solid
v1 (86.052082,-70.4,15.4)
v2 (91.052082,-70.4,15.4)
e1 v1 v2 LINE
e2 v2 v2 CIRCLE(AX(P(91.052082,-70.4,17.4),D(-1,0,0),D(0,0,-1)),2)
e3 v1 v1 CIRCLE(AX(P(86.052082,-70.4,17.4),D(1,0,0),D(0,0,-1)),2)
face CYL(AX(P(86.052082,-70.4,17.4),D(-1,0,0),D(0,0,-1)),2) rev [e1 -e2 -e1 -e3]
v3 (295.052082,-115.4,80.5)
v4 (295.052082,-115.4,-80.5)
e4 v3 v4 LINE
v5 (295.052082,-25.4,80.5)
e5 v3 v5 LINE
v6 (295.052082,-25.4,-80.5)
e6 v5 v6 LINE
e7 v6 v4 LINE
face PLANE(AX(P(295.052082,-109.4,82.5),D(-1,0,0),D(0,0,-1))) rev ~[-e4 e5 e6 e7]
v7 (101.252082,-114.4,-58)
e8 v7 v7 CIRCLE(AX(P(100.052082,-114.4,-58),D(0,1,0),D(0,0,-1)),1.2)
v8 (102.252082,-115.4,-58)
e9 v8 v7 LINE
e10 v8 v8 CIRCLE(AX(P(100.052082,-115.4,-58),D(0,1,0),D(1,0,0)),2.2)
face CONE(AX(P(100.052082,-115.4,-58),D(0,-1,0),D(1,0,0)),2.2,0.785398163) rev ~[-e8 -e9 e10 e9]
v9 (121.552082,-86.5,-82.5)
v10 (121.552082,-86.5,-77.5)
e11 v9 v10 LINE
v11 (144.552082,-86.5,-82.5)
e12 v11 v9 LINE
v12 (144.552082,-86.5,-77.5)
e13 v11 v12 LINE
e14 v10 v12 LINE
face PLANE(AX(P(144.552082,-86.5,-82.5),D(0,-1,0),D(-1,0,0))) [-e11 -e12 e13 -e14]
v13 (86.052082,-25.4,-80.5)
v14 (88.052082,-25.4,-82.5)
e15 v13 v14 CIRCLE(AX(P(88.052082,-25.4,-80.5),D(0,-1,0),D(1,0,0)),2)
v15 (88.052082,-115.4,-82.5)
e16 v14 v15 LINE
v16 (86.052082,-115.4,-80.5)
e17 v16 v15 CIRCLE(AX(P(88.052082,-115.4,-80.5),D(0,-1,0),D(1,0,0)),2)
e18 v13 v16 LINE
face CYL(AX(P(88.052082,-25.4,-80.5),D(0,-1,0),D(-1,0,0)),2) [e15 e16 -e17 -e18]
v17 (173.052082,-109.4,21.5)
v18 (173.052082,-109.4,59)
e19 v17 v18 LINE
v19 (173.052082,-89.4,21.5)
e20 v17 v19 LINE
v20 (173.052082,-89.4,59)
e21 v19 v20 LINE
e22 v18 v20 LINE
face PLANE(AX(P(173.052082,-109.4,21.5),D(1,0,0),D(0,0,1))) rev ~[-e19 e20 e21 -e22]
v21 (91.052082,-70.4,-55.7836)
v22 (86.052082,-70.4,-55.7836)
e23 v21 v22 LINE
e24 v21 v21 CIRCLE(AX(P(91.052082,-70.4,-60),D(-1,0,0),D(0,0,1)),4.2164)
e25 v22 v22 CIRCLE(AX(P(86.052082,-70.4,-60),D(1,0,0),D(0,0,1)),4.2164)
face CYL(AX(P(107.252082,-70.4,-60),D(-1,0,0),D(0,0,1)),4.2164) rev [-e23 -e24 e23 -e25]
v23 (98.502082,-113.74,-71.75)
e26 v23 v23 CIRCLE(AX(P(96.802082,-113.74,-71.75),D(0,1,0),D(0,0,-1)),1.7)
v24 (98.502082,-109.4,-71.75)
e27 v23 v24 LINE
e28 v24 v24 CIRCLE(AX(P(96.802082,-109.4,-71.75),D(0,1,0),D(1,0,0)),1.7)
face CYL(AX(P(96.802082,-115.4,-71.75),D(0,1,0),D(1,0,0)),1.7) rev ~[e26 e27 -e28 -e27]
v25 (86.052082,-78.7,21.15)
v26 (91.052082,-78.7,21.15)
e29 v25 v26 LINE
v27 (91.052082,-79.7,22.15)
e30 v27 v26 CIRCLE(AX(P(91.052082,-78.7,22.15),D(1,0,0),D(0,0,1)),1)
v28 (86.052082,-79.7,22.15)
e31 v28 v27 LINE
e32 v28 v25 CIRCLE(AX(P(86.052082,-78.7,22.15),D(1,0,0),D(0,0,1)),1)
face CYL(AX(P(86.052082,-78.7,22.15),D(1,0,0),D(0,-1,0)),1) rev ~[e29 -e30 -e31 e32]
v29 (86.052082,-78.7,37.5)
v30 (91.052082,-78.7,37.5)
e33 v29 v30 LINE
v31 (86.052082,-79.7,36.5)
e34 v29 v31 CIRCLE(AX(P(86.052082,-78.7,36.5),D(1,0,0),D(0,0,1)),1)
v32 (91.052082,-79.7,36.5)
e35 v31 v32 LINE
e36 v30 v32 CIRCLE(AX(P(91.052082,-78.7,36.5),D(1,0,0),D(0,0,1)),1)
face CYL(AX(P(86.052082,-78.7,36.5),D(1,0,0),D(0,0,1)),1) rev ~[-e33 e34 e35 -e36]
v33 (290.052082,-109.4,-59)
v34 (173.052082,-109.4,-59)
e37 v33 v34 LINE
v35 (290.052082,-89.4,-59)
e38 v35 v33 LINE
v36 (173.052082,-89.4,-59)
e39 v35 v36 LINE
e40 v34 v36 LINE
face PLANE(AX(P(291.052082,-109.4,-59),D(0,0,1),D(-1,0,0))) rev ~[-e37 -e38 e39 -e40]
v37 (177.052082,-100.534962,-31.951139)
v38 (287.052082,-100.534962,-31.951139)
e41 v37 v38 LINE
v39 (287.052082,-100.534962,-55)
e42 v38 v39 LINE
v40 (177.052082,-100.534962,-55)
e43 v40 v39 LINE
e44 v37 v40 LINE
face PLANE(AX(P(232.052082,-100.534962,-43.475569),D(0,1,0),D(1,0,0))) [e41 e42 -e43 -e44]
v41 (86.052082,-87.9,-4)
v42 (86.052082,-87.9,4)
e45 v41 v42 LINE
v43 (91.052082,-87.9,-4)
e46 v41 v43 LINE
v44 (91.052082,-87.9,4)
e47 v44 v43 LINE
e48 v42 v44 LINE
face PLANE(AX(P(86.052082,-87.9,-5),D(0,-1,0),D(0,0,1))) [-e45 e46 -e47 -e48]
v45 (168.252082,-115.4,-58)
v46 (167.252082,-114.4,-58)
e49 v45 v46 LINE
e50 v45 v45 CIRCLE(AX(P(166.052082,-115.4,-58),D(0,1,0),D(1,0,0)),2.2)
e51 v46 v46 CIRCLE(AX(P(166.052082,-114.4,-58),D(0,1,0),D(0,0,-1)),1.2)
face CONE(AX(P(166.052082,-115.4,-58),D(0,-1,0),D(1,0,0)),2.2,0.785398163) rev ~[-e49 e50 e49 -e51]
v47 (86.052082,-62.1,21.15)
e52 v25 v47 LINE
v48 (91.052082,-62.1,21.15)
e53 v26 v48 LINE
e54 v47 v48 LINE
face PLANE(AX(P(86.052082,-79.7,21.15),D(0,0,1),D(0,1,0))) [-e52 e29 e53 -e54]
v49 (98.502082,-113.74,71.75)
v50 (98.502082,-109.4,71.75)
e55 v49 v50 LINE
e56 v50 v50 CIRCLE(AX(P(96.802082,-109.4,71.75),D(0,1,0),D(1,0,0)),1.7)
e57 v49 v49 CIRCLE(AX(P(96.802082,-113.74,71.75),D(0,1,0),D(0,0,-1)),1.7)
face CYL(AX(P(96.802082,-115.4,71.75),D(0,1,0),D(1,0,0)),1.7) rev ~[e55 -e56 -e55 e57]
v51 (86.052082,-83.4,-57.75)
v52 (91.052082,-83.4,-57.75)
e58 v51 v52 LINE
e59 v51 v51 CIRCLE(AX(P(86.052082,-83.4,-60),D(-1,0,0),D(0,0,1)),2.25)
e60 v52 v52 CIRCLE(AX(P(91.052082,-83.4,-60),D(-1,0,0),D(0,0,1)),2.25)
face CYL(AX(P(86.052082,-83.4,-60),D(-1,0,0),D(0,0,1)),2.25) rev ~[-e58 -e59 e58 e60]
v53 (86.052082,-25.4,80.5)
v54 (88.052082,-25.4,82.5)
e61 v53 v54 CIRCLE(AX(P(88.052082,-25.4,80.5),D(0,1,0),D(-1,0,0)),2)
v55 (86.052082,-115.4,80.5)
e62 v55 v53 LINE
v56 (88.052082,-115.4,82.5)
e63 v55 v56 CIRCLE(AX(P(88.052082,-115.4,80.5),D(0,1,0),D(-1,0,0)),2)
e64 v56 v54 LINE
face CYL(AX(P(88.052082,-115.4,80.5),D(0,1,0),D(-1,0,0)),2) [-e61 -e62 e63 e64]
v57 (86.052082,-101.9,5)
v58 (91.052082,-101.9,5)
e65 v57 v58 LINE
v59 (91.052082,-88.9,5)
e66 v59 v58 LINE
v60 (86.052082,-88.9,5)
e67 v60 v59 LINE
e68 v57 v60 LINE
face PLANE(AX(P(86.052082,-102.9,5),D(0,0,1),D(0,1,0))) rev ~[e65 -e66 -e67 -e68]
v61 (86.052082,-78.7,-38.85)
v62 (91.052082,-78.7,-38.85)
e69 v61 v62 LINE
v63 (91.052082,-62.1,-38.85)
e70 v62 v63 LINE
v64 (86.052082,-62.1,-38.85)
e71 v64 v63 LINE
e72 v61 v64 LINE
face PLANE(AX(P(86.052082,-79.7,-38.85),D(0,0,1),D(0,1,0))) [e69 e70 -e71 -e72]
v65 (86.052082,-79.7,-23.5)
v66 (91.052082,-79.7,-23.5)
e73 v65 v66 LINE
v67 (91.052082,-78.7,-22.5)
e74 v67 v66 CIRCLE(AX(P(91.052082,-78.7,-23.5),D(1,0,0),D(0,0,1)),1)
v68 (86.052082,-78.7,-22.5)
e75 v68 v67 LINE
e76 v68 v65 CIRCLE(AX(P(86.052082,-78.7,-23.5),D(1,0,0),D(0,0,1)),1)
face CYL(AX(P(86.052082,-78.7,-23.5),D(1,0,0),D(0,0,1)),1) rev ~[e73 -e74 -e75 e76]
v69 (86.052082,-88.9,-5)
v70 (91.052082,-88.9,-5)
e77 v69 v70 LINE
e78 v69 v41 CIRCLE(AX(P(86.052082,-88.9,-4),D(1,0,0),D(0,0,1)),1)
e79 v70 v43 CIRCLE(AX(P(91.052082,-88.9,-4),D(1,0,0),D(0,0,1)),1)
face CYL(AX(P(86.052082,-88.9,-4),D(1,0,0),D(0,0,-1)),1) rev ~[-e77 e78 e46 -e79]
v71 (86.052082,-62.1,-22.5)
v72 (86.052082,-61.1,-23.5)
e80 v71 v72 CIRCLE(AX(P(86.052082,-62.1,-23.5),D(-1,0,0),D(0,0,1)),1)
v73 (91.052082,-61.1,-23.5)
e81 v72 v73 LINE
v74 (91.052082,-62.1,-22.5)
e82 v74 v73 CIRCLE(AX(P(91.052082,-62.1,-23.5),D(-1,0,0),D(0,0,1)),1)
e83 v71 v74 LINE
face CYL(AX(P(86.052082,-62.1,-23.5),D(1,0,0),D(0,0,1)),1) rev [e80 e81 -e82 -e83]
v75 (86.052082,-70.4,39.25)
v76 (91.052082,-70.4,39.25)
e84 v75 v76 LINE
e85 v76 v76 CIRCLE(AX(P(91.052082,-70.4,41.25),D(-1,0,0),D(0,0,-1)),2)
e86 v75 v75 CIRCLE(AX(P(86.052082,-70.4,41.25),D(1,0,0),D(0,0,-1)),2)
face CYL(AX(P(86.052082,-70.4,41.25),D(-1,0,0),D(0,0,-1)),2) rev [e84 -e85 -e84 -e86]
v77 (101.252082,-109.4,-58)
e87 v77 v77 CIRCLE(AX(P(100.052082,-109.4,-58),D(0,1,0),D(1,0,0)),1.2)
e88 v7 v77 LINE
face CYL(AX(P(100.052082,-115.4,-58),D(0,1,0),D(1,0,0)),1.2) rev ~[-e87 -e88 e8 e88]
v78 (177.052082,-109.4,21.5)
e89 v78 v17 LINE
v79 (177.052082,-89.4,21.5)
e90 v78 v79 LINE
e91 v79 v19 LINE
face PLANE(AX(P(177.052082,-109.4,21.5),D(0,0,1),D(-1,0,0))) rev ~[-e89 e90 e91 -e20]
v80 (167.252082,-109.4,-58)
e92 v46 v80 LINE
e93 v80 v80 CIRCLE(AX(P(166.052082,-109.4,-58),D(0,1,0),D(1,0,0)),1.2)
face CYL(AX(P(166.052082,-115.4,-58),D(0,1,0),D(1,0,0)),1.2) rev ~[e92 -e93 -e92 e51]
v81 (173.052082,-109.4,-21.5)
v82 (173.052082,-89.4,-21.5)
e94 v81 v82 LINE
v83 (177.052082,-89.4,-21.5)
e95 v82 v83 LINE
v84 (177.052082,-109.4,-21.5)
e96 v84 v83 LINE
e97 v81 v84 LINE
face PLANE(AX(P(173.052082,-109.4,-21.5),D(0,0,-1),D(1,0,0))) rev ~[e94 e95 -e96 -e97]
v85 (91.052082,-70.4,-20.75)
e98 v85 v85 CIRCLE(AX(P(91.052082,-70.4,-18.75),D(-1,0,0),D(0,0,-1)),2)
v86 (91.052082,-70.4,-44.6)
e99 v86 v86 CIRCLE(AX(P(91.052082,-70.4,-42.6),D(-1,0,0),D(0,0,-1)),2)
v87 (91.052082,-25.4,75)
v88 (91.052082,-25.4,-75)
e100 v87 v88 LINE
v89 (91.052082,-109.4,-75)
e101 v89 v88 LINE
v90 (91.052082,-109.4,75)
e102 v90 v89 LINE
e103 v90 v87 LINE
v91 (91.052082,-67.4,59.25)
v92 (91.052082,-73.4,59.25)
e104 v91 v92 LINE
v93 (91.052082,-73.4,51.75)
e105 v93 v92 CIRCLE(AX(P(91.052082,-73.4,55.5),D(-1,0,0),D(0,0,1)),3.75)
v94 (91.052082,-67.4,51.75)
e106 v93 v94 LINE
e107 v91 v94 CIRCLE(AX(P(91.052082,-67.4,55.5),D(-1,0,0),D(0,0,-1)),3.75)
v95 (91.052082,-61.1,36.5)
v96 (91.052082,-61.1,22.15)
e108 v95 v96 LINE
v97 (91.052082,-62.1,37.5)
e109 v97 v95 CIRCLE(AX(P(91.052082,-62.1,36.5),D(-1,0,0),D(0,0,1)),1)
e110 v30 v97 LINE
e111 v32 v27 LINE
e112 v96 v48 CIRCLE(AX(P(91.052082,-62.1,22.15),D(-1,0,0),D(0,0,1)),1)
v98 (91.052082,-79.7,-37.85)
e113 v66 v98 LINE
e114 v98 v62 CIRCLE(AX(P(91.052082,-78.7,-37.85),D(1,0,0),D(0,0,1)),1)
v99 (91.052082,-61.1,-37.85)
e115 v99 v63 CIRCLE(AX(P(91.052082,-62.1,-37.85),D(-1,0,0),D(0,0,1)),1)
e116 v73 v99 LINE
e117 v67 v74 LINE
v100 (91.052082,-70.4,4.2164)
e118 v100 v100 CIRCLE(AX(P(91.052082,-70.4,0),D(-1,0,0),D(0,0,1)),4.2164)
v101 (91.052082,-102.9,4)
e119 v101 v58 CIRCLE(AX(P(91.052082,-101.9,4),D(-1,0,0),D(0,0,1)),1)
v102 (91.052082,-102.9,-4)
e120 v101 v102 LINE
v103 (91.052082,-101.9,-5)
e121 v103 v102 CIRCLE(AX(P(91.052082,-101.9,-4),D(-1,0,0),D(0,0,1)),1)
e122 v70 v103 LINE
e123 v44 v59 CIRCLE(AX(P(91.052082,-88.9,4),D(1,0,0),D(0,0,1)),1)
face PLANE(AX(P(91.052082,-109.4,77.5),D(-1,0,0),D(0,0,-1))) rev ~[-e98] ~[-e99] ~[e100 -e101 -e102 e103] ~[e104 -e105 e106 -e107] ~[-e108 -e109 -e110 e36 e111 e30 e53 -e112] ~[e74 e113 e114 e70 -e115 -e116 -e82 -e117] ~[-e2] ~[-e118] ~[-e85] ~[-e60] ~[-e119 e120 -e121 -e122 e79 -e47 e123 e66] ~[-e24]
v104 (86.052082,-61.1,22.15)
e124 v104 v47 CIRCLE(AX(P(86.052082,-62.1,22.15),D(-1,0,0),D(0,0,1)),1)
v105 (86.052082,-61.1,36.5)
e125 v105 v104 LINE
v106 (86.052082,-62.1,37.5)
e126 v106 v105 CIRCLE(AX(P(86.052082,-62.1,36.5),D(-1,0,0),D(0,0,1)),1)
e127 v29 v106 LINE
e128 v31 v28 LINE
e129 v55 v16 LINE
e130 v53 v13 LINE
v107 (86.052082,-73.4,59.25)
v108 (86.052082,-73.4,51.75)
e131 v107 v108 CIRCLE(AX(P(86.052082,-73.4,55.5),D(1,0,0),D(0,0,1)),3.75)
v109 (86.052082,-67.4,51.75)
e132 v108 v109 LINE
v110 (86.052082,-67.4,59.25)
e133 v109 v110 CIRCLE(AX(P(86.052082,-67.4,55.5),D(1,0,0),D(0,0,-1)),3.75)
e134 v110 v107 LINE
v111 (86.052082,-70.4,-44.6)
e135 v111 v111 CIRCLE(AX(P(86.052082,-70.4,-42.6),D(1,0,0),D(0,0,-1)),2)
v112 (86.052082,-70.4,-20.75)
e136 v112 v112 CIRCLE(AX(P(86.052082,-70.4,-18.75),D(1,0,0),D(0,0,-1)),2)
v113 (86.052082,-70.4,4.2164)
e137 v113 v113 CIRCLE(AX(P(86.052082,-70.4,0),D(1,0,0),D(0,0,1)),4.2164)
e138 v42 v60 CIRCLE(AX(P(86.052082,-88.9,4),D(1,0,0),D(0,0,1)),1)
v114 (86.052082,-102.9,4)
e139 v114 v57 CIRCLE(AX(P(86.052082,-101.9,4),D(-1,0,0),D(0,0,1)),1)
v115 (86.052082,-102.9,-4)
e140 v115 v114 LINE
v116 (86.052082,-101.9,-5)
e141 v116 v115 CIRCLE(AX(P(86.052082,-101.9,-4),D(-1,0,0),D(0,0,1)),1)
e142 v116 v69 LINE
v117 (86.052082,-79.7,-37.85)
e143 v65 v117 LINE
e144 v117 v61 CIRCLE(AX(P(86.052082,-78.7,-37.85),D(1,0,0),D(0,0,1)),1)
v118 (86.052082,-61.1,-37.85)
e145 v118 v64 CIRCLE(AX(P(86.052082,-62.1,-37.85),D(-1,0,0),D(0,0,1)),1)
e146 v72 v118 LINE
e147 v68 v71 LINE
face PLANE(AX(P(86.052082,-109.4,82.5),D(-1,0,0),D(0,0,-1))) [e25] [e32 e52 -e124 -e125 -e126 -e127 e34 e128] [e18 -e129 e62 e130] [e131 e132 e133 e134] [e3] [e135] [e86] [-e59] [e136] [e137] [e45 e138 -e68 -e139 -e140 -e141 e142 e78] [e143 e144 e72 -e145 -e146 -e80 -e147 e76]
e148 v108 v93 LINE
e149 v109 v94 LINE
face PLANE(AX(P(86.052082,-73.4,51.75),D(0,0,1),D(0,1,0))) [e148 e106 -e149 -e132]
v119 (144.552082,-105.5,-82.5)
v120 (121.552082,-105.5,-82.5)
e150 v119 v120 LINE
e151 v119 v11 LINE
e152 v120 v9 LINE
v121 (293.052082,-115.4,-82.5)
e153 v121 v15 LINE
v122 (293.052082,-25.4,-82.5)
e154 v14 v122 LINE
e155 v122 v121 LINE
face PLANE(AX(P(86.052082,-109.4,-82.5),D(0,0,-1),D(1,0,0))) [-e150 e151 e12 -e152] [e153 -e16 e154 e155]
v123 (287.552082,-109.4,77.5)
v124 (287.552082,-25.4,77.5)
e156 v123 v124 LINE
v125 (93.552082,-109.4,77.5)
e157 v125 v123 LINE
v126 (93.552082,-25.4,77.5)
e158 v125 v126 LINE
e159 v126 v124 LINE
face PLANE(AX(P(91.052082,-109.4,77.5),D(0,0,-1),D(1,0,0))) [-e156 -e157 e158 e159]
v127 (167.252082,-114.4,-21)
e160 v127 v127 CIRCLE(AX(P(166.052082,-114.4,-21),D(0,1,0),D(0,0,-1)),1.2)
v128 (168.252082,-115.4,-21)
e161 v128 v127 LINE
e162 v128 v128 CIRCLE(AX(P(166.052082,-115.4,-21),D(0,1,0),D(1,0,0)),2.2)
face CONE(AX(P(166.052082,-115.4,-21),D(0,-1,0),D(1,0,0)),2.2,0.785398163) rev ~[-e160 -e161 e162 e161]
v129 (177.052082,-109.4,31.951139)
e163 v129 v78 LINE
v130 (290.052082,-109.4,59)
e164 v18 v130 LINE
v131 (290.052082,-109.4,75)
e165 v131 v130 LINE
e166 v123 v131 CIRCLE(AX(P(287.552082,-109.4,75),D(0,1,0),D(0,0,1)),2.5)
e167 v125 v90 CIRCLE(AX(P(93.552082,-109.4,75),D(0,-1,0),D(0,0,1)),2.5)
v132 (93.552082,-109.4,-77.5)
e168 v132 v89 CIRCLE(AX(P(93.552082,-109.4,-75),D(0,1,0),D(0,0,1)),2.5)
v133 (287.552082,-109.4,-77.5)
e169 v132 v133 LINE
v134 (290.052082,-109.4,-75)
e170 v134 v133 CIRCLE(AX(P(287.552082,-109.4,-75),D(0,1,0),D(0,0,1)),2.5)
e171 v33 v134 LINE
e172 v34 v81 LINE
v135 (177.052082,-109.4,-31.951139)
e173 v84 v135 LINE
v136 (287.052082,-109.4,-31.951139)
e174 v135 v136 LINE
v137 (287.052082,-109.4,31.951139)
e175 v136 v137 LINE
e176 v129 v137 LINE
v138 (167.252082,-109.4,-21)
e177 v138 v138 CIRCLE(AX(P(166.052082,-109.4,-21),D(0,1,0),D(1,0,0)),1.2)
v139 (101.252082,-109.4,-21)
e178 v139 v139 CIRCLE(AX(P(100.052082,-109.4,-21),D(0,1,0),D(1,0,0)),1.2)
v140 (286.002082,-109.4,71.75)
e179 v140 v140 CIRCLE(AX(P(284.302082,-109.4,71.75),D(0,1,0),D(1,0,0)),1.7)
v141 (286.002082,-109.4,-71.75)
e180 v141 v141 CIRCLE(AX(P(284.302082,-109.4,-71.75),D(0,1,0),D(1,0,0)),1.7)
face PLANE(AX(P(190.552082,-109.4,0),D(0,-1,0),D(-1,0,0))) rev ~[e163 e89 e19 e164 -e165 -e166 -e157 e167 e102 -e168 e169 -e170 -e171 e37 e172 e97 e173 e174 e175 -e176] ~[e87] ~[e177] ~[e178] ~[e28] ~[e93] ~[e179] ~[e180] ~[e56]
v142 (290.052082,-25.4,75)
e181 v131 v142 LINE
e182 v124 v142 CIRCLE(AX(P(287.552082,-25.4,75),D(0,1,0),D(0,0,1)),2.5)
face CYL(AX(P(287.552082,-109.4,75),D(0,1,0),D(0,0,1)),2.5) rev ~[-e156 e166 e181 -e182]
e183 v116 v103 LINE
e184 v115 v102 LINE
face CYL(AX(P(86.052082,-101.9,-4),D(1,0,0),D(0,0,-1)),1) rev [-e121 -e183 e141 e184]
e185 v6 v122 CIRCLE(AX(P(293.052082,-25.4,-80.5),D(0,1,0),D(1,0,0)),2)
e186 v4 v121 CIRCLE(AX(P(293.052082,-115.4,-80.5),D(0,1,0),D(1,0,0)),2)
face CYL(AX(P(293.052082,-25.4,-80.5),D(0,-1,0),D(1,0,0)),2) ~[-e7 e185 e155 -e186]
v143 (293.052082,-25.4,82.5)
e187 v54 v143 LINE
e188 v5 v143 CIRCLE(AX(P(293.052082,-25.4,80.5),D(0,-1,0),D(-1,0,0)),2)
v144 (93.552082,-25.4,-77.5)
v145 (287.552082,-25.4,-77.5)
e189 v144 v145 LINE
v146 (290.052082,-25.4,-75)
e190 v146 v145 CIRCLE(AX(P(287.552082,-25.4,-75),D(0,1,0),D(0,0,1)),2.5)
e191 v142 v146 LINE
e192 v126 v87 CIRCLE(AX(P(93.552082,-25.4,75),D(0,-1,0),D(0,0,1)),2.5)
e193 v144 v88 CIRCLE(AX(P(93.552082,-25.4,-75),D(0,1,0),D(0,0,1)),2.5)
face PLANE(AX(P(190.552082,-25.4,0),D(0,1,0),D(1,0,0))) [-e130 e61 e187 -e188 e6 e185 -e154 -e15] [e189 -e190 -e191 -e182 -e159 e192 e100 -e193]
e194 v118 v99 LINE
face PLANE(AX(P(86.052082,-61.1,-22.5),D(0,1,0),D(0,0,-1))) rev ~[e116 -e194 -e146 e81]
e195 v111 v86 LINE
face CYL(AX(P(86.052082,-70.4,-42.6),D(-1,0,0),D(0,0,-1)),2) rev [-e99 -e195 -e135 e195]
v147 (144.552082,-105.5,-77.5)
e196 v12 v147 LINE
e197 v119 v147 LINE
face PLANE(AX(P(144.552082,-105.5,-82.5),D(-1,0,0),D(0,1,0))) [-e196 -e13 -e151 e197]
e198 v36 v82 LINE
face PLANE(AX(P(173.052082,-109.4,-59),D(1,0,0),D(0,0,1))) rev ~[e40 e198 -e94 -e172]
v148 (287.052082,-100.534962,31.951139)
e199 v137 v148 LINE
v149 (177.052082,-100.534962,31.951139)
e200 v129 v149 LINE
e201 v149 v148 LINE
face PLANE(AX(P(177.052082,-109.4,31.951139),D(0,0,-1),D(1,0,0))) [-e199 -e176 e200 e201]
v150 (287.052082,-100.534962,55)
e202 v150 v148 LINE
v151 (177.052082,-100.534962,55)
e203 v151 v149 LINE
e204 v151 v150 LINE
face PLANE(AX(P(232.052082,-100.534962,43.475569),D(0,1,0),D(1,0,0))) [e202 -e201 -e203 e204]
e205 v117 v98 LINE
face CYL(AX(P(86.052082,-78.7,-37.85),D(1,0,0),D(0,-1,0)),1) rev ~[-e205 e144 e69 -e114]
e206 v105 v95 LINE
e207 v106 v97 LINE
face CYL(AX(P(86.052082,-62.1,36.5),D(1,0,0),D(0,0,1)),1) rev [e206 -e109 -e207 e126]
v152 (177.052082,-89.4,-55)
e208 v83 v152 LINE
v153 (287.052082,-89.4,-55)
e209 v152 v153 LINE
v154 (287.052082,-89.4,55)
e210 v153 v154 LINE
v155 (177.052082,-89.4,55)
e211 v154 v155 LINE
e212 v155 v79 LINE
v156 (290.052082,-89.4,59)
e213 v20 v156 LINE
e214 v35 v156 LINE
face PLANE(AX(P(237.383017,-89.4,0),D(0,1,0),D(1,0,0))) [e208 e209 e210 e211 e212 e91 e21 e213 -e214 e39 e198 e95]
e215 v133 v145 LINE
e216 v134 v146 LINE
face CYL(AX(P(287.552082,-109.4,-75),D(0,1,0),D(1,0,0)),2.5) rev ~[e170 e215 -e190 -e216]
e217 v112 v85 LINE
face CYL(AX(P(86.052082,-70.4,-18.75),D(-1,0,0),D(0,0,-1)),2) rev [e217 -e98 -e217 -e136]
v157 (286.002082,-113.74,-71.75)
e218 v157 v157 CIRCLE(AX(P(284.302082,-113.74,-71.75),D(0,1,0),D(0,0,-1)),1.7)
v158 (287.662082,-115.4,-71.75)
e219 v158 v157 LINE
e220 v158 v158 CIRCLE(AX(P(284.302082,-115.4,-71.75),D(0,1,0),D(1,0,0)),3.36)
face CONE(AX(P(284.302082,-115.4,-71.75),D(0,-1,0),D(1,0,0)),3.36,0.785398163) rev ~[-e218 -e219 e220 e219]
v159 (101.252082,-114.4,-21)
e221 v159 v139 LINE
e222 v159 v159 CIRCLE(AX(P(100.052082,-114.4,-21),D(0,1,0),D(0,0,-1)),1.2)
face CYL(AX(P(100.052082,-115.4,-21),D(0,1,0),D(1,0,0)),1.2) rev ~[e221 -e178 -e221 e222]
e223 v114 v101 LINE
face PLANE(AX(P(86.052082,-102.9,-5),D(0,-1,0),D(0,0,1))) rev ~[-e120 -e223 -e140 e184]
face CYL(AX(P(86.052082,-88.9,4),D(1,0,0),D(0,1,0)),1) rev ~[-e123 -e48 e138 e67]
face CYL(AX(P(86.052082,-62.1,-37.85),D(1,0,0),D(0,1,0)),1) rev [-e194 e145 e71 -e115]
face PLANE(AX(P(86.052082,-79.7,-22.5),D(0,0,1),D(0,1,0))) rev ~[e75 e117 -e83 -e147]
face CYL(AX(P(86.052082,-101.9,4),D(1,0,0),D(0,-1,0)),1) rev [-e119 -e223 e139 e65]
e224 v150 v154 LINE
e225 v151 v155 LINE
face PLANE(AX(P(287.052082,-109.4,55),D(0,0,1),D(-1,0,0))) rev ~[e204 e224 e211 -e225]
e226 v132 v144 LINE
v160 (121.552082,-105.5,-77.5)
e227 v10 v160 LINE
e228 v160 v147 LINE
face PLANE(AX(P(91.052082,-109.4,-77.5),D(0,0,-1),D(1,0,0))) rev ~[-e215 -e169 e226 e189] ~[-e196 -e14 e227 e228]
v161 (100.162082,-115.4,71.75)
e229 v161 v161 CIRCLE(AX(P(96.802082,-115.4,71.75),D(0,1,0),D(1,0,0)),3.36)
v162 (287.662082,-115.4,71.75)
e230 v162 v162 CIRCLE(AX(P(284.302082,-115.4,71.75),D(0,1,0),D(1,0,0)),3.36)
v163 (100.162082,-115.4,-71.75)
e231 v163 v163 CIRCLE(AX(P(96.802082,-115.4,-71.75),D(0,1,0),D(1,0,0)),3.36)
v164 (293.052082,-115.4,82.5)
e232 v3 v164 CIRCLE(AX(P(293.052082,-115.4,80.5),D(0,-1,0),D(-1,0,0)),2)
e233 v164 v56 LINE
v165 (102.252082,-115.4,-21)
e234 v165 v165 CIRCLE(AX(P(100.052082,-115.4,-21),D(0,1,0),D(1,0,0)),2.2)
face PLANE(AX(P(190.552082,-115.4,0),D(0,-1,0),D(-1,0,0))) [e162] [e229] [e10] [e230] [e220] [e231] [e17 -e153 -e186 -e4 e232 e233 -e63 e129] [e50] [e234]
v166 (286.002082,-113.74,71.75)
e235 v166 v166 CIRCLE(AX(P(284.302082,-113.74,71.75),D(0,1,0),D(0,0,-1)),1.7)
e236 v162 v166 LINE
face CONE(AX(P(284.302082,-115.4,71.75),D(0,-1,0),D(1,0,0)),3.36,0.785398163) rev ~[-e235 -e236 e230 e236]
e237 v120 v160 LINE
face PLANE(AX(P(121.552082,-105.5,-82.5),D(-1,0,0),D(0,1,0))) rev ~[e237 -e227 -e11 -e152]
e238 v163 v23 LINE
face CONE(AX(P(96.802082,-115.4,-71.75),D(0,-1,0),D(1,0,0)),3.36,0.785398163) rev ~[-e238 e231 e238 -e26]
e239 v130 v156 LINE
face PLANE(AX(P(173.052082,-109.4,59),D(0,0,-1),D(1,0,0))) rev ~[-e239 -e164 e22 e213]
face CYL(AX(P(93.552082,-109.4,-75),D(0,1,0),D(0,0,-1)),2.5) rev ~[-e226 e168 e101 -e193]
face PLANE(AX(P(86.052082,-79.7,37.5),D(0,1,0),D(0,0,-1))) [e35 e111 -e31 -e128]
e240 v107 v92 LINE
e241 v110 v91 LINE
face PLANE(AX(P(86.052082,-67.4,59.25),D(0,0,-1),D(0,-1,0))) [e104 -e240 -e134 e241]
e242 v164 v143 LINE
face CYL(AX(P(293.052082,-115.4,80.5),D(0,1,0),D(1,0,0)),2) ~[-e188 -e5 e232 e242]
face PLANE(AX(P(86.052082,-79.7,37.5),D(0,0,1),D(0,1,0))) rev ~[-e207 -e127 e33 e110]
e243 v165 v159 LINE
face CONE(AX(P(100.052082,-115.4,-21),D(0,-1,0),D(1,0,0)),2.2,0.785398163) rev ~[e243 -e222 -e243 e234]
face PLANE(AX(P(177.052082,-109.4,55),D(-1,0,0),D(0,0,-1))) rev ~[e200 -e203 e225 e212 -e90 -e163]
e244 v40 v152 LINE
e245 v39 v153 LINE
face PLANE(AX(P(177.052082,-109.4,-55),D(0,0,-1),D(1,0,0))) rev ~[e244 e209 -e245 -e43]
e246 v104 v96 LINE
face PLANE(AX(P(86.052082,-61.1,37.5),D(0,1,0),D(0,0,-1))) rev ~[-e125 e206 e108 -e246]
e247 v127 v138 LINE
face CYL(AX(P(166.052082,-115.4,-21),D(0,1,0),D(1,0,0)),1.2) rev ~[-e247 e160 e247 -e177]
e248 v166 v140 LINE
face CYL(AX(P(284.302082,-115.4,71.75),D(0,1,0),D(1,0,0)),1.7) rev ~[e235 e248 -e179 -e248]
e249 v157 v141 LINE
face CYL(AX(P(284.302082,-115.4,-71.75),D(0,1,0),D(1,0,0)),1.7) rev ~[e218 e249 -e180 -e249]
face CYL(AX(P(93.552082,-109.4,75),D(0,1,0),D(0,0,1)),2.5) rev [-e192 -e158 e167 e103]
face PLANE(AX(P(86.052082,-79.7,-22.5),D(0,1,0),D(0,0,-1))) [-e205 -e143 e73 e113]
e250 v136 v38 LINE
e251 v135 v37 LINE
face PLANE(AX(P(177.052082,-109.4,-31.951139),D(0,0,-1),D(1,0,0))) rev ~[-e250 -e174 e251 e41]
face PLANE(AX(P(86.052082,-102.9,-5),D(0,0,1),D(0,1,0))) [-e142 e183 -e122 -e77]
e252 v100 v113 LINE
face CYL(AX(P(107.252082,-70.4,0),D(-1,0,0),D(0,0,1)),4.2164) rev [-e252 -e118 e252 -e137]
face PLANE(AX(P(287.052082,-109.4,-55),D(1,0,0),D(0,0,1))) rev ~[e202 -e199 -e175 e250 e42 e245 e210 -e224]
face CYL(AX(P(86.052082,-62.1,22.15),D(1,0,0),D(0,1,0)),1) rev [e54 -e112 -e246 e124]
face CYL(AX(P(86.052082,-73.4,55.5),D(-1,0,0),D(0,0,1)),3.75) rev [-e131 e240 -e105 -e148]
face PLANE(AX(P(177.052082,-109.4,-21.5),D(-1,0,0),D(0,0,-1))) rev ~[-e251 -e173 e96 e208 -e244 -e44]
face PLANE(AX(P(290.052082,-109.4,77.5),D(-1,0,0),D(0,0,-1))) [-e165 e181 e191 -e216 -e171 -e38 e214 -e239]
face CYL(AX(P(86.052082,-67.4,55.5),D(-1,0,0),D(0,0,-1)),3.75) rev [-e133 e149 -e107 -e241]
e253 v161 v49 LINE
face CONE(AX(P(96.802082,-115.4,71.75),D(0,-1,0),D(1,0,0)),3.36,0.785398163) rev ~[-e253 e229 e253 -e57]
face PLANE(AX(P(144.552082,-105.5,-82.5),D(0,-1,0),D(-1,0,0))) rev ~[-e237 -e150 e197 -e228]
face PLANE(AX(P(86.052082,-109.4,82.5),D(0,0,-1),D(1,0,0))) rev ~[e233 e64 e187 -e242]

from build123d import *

# Parameters (mm, degrees)
CROQUIS1_W                                           = 209
CROQUIS1_H                                           = 165
SALIENTE_EXTRUIR1_DEPTH                              = 6
SALIENTE_EXTRUIR2_DEPTH                              = 20
CROQUIS5_W                                           = 110
CROQUIS5_H                                           = 23.048861143
SALIENTE_EXTRUIR3_DEPTH                              = 8.865038464
CROQUIS6_W                                           = 209
CROQUIS6_H                                           = 165
CROQUIS6_W_2                                         = 199
CROQUIS6_H_2                                         = 155
SALIENTE_EXTRUIR4_DEPTH                              = 84
CORTAR_EXTRUIR2_REACH                                = 359.208
CROQUIS8_W                                           = 23
CROQUIS8_H                                           = 19
CORTAR_EXTRUIR4_REACH                                = 254.595
CROQUIS10_R                                          = 1.25
CROQUIS10_W                                          = 10
CROQUIS10_H                                          = 15
CROQUIS9_R                                           = 2
CROQUIS9_W                                           = 16.35
CROQUIS9_H                                           = 18.6
CORTAR_EXTRUIR5_DEPTH                                = 10
AVELLANADO_PARA_TORNILLO_CON_CABEZA_PLAN_D           = 2.4
AVELLANADO_PARA_TORNILLO_CON_CABEZA_PLAN_CSINK_D     = 4.4
AVELLANADO_PARA_TORNILLO_CON_CABEZA_PLAN_CSINK_ANGLE = 90
REDONDEO1_R                                          = 2
REDONDEO2_R                                          = 2.5
MATRIZL2_COUNT                                       = 2
MATRIZL2_PITCH                                       = 60
MATRIZL3_COUNT                                       = 2
MATRIZL3_PITCH                                       = 60
CORTAR_EXTRUIR6_DEPTH                                = 10
REFRENTADO_PARA_TORNILLO_TAP_N_CON_CABEZ_D           = 3.4
REFRENTADO_PARA_TORNILLO_TAP_N_CON_CABEZ_DEPTH       = 8.2
REFRENTADO_PARA_TORNILLO_TAP_N_CON_CABEZ_CSINK_D     = 6.72
REFRENTADO_PARA_TORNILLO_TAP_N_CON_CABEZ_CSINK_ANGLE = 90
REFRENTADO_PARA_TORNILLO_TAP_N_CON_CABEZ_TIP         = 1.021463052
CORTAR_EXTRUIR7_REACH                                = 254.595
CROQUIS24_R                                          = 2.25
REDONDEO3_R                                          = 1


with BuildPart() as part:
    # Croquis1 → Saliente-Extruir1 (new body)
    with BuildSketch(Plane(origin=(40.752081892, -109.4, 0), x_dir=(-1, 0, 0), z_dir=(0, -1, 0))):
        with Locations((-149.8, 0)):
            Rectangle(CROQUIS1_W, CROQUIS1_H)
    extrude(amount=SALIENTE_EXTRUIR1_DEPTH)

    # Croquis3 → Saliente-Extruir2 (add)
    with BuildSketch(Plane(origin=(0, -109.4, 0), x_dir=(1, 0, 0), z_dir=(0, 1, 0))):
        Polygon((177.052081892, -55), (177.052081892, -21.5), (173.052081892, -21.5), (173.052081892, -59), (291.052081892, -59), (291.052081892, 59), (173.052081892, 59), (173.052081892, 21.5), (177.052081892, 21.5), (177.052081892, 55), (287.052081892, 55), (287.052081892, -55), align=None)
    extrude(amount=SALIENTE_EXTRUIR2_DEPTH)

    # Croquis5 → Saliente-Extruir3 (add)
    with BuildSketch(Plane(origin=(0, -109.4, 0), x_dir=(1, 0, 0), z_dir=(0, 1, 0))):
        with Locations((232.052081892, 43.475569429)):
            Rectangle(CROQUIS5_W, CROQUIS5_H)
        with Locations((232.052081892, -43.475569429)):
            Rectangle(CROQUIS5_W, CROQUIS5_H)
    extrude(amount=SALIENTE_EXTRUIR3_DEPTH)

    # Croquis6 → Saliente-Extruir4 (add)
    with BuildSketch(Plane(origin=(0, -109.4, 0), x_dir=(1, 0, 0), z_dir=(0, 1, 0))):
        with Locations((190.552081892, 0)):
            Rectangle(CROQUIS6_W, CROQUIS6_H)
        with Locations((190.552081892, 0)):
            Rectangle(CROQUIS6_W_2, CROQUIS6_H_2, mode=Mode.SUBTRACT)
    extrude(amount=SALIENTE_EXTRUIR4_DEPTH)

    # Croquis8 → Cortar-Extruir2 (cut, up to next)
    with BuildSketch(Plane(origin=(0, 0, -82.5), x_dir=(-1, 0, 0), z_dir=(0, 0, -1)), mode=Mode.PRIVATE) as cortar_extruir2_sk1:
        with Locations((-133.052081892, -96)):
            Rectangle(CROQUIS8_W, CROQUIS8_H)
    cortar_extruir2_tool1 = extrude(cortar_extruir2_sk1.sketch, amount=-CORTAR_EXTRUIR2_REACH, mode=Mode.PRIVATE) & part.part
    add(cortar_extruir2_tool1.solids().sort_by_distance((133.052082, -96, -82.5))[0], mode=Mode.SUBTRACT)

    # Croquis10 → Cortar-Extruir4 (cut, up to next)
    with BuildSketch(Plane.ZY.offset(-86.052081892), mode=Mode.PRIVATE) as cortar_extruir4_sk1:
        with Locations((0, -70.4)):
            Circle(CROQUIS10_R)
    cortar_extruir4_tool1 = extrude(cortar_extruir4_sk1.sketch, amount=-CORTAR_EXTRUIR4_REACH, mode=Mode.PRIVATE) & part.part
    # Croquis10 → Cortar-Extruir4 (cut, up to next)
    with BuildSketch(Plane.ZY.offset(-86.052081892), mode=Mode.PRIVATE) as cortar_extruir4_sk2:
        with Locations((0, -95.4)):
            Rectangle(CROQUIS10_W, CROQUIS10_H)
    cortar_extruir4_tool2 = extrude(cortar_extruir4_sk2.sketch, amount=-CORTAR_EXTRUIR4_REACH, mode=Mode.PRIVATE) & part.part
    add(cortar_extruir4_tool1.solids().sort_by_distance((86.052082, -70.4, 0))[0], mode=Mode.SUBTRACT)
    add(cortar_extruir4_tool2.solids().sort_by_distance((86.052082, -95.4, 0))[0], mode=Mode.SUBTRACT)

    # Croquis9 → Cortar-Extruir5 (cut)
    with BuildSketch(Plane(origin=(86.052081892, 0, 168.552081892), x_dir=(0, 0, -1), z_dir=(1, 0, 0))):
        with Locations((187.302081892, -70.4)):
            Circle(CROQUIS9_R)
        with Locations((211.152081892, -70.4)):
            Circle(CROQUIS9_R)
        with Locations((199.227081892, -70.4)):
            Rectangle(CROQUIS9_W, CROQUIS9_H)
    cortar_extruir5 = extrude(amount=CORTAR_EXTRUIR5_DEPTH, mode=Mode.SUBTRACT)

    # Croquis14 → Taladro de margen para 5/161 (revolve, cut)
    with BuildSketch(Plane(origin=(86.052081892, -70.4, 0), x_dir=(0, 0, 1), z_dir=(0, 1, 0))):
        Polygon((0, 0), (0, 23.733468714), (4.2164, 21.2), (4.2164, 0), align=None)
    taladro_de_margen_para_5_161 = revolve(axis=Axis((79.702081892, -70.4, 0), (1, 0, 0)), mode=Mode.SUBTRACT)

    # Avellanado para tornillo con cabeza plana de M21 (through all)
    with Locations(Plane(origin=(0, -115.4, 0), x_dir=(-1, 0, 0), z_dir=(0, -1, 0))):
        with Locations((-166.052081892, 58), (-166.052081892, 21), (-100.052081892, 21), (-100.052081892, 58)):
            CounterSinkHole(AVELLANADO_PARA_TORNILLO_CON_CABEZA_PLAN_D / 2, AVELLANADO_PARA_TORNILLO_CON_CABEZA_PLAN_CSINK_D / 2, counter_sink_angle=AVELLANADO_PARA_TORNILLO_CON_CABEZA_PLAN_CSINK_ANGLE)

    # Redondeo1
    redondeo1_edges = [part.edges().sort_by_distance(p)[0] for p in [
        (86.052081892, -70.4, 82.5),
        (295.052081892, -70.4, 82.5),
        (295.052081892, -70.4, -82.5),
        (86.052081892, -70.4, -82.5),
    ]]
    fillet(redondeo1_edges, radius=REDONDEO1_R)

    # Redondeo2
    redondeo2_edges = [part.edges().sort_by_distance(p)[0] for p in [
        (290.052081892, -67.4, -77.5),
        (91.052081892, -67.4, -77.5),
        (91.052081892, -67.4, 77.5),
        (290.052081892, -67.4, 77.5),
    ]]
    fillet(redondeo2_edges, radius=REDONDEO2_R)

    # MatrizL2: Taladro de margen para 5/161 ×2
    with Locations(*[(0, 0, -i * MATRIZL2_PITCH) for i in range(1, MATRIZL2_COUNT)]):
        add(taladro_de_margen_para_5_161, mode=Mode.SUBTRACT)

    # MatrizL3: Cortar-Extruir5 ×2
    with Locations(*[(0, 0, i * MATRIZL3_PITCH) for i in range(1, MATRIZL3_COUNT)]):
        add(cortar_extruir5, mode=Mode.SUBTRACT)

    # Croquis20 → Cortar-Extruir6 (cut)
    with BuildSketch(Plane.ZY.offset(-86.052081892)):
        with BuildLine():
            Line((51.75, -73.4), (51.75, -67.4))
            ThreePointArc((51.75, -67.4), (55.5, -63.65), (59.25, -67.4))
            Line((59.25, -67.4), (59.25, -73.4))
            ThreePointArc((59.25, -73.4), (55.5, -77.15), (51.75, -73.4))
        make_face()
    extrude(amount=-CORTAR_EXTRUIR6_DEPTH, mode=Mode.SUBTRACT)

    # Refrentado para tornillo tapón con cabeza plana de clavija de M31
    with Locations(Plane(origin=(0, -115.4, 0), x_dir=(-1, 0, 0), z_dir=(0, -1, 0))):
        with Locations((-284.302081892, 71.75), (-284.302081892, -71.75), (-96.802081892, -71.75), (-96.802081892, 71.75)):
            CounterSinkHole(REFRENTADO_PARA_TORNILLO_TAP_N_CON_CABEZ_D / 2, REFRENTADO_PARA_TORNILLO_TAP_N_CON_CABEZ_CSINK_D / 2, depth=REFRENTADO_PARA_TORNILLO_TAP_N_CON_CABEZ_DEPTH, counter_sink_angle=REFRENTADO_PARA_TORNILLO_TAP_N_CON_CABEZ_CSINK_ANGLE)
            with Locations((0, 0, -(REFRENTADO_PARA_TORNILLO_TAP_N_CON_CABEZ_DEPTH + REFRENTADO_PARA_TORNILLO_TAP_N_CON_CABEZ_TIP / 2))):  # 118° drill point
                Cone(0, REFRENTADO_PARA_TORNILLO_TAP_N_CON_CABEZ_D / 2, REFRENTADO_PARA_TORNILLO_TAP_N_CON_CABEZ_TIP, mode=Mode.SUBTRACT)

    # Croquis24 → Cortar-Extruir7 (cut, up to next)
    with BuildSketch(Plane.ZY.offset(-86.052081892), mode=Mode.PRIVATE) as cortar_extruir7_sk1:
        with Locations((-60, -83.4)):
            Circle(CROQUIS24_R)
    cortar_extruir7_tool1 = extrude(cortar_extruir7_sk1.sketch, amount=-CORTAR_EXTRUIR7_REACH, mode=Mode.PRIVATE) & part.part
    add(cortar_extruir7_tool1.solids().sort_by_distance((86.052082, -83.4, -60))[0], mode=Mode.SUBTRACT)

    # Redondeo3
    redondeo3_edges = [part.edges().sort_by_distance(p)[0] for p in [
        (88.552081892, -87.9, 5),
        (88.552081892, -102.9, 5),
        (88.552081892, -102.9, -5),
        (88.552081892, -87.9, -5),
        (88.552081892, -79.7, -38.85),
        (88.552081892, -61.1, -38.85),
        (88.552081892, -61.1, -22.5),
        (88.552081892, -79.7, -22.5),
        (88.552081892, -79.7, 21.15),
        (88.552081892, -61.1, 21.15),
        (88.552081892, -61.1, 37.5),
        (88.552081892, -79.7, 37.5),
    ]]
    fillet(redondeo3_edges, radius=REDONDEO3_R)


solid = part.part
